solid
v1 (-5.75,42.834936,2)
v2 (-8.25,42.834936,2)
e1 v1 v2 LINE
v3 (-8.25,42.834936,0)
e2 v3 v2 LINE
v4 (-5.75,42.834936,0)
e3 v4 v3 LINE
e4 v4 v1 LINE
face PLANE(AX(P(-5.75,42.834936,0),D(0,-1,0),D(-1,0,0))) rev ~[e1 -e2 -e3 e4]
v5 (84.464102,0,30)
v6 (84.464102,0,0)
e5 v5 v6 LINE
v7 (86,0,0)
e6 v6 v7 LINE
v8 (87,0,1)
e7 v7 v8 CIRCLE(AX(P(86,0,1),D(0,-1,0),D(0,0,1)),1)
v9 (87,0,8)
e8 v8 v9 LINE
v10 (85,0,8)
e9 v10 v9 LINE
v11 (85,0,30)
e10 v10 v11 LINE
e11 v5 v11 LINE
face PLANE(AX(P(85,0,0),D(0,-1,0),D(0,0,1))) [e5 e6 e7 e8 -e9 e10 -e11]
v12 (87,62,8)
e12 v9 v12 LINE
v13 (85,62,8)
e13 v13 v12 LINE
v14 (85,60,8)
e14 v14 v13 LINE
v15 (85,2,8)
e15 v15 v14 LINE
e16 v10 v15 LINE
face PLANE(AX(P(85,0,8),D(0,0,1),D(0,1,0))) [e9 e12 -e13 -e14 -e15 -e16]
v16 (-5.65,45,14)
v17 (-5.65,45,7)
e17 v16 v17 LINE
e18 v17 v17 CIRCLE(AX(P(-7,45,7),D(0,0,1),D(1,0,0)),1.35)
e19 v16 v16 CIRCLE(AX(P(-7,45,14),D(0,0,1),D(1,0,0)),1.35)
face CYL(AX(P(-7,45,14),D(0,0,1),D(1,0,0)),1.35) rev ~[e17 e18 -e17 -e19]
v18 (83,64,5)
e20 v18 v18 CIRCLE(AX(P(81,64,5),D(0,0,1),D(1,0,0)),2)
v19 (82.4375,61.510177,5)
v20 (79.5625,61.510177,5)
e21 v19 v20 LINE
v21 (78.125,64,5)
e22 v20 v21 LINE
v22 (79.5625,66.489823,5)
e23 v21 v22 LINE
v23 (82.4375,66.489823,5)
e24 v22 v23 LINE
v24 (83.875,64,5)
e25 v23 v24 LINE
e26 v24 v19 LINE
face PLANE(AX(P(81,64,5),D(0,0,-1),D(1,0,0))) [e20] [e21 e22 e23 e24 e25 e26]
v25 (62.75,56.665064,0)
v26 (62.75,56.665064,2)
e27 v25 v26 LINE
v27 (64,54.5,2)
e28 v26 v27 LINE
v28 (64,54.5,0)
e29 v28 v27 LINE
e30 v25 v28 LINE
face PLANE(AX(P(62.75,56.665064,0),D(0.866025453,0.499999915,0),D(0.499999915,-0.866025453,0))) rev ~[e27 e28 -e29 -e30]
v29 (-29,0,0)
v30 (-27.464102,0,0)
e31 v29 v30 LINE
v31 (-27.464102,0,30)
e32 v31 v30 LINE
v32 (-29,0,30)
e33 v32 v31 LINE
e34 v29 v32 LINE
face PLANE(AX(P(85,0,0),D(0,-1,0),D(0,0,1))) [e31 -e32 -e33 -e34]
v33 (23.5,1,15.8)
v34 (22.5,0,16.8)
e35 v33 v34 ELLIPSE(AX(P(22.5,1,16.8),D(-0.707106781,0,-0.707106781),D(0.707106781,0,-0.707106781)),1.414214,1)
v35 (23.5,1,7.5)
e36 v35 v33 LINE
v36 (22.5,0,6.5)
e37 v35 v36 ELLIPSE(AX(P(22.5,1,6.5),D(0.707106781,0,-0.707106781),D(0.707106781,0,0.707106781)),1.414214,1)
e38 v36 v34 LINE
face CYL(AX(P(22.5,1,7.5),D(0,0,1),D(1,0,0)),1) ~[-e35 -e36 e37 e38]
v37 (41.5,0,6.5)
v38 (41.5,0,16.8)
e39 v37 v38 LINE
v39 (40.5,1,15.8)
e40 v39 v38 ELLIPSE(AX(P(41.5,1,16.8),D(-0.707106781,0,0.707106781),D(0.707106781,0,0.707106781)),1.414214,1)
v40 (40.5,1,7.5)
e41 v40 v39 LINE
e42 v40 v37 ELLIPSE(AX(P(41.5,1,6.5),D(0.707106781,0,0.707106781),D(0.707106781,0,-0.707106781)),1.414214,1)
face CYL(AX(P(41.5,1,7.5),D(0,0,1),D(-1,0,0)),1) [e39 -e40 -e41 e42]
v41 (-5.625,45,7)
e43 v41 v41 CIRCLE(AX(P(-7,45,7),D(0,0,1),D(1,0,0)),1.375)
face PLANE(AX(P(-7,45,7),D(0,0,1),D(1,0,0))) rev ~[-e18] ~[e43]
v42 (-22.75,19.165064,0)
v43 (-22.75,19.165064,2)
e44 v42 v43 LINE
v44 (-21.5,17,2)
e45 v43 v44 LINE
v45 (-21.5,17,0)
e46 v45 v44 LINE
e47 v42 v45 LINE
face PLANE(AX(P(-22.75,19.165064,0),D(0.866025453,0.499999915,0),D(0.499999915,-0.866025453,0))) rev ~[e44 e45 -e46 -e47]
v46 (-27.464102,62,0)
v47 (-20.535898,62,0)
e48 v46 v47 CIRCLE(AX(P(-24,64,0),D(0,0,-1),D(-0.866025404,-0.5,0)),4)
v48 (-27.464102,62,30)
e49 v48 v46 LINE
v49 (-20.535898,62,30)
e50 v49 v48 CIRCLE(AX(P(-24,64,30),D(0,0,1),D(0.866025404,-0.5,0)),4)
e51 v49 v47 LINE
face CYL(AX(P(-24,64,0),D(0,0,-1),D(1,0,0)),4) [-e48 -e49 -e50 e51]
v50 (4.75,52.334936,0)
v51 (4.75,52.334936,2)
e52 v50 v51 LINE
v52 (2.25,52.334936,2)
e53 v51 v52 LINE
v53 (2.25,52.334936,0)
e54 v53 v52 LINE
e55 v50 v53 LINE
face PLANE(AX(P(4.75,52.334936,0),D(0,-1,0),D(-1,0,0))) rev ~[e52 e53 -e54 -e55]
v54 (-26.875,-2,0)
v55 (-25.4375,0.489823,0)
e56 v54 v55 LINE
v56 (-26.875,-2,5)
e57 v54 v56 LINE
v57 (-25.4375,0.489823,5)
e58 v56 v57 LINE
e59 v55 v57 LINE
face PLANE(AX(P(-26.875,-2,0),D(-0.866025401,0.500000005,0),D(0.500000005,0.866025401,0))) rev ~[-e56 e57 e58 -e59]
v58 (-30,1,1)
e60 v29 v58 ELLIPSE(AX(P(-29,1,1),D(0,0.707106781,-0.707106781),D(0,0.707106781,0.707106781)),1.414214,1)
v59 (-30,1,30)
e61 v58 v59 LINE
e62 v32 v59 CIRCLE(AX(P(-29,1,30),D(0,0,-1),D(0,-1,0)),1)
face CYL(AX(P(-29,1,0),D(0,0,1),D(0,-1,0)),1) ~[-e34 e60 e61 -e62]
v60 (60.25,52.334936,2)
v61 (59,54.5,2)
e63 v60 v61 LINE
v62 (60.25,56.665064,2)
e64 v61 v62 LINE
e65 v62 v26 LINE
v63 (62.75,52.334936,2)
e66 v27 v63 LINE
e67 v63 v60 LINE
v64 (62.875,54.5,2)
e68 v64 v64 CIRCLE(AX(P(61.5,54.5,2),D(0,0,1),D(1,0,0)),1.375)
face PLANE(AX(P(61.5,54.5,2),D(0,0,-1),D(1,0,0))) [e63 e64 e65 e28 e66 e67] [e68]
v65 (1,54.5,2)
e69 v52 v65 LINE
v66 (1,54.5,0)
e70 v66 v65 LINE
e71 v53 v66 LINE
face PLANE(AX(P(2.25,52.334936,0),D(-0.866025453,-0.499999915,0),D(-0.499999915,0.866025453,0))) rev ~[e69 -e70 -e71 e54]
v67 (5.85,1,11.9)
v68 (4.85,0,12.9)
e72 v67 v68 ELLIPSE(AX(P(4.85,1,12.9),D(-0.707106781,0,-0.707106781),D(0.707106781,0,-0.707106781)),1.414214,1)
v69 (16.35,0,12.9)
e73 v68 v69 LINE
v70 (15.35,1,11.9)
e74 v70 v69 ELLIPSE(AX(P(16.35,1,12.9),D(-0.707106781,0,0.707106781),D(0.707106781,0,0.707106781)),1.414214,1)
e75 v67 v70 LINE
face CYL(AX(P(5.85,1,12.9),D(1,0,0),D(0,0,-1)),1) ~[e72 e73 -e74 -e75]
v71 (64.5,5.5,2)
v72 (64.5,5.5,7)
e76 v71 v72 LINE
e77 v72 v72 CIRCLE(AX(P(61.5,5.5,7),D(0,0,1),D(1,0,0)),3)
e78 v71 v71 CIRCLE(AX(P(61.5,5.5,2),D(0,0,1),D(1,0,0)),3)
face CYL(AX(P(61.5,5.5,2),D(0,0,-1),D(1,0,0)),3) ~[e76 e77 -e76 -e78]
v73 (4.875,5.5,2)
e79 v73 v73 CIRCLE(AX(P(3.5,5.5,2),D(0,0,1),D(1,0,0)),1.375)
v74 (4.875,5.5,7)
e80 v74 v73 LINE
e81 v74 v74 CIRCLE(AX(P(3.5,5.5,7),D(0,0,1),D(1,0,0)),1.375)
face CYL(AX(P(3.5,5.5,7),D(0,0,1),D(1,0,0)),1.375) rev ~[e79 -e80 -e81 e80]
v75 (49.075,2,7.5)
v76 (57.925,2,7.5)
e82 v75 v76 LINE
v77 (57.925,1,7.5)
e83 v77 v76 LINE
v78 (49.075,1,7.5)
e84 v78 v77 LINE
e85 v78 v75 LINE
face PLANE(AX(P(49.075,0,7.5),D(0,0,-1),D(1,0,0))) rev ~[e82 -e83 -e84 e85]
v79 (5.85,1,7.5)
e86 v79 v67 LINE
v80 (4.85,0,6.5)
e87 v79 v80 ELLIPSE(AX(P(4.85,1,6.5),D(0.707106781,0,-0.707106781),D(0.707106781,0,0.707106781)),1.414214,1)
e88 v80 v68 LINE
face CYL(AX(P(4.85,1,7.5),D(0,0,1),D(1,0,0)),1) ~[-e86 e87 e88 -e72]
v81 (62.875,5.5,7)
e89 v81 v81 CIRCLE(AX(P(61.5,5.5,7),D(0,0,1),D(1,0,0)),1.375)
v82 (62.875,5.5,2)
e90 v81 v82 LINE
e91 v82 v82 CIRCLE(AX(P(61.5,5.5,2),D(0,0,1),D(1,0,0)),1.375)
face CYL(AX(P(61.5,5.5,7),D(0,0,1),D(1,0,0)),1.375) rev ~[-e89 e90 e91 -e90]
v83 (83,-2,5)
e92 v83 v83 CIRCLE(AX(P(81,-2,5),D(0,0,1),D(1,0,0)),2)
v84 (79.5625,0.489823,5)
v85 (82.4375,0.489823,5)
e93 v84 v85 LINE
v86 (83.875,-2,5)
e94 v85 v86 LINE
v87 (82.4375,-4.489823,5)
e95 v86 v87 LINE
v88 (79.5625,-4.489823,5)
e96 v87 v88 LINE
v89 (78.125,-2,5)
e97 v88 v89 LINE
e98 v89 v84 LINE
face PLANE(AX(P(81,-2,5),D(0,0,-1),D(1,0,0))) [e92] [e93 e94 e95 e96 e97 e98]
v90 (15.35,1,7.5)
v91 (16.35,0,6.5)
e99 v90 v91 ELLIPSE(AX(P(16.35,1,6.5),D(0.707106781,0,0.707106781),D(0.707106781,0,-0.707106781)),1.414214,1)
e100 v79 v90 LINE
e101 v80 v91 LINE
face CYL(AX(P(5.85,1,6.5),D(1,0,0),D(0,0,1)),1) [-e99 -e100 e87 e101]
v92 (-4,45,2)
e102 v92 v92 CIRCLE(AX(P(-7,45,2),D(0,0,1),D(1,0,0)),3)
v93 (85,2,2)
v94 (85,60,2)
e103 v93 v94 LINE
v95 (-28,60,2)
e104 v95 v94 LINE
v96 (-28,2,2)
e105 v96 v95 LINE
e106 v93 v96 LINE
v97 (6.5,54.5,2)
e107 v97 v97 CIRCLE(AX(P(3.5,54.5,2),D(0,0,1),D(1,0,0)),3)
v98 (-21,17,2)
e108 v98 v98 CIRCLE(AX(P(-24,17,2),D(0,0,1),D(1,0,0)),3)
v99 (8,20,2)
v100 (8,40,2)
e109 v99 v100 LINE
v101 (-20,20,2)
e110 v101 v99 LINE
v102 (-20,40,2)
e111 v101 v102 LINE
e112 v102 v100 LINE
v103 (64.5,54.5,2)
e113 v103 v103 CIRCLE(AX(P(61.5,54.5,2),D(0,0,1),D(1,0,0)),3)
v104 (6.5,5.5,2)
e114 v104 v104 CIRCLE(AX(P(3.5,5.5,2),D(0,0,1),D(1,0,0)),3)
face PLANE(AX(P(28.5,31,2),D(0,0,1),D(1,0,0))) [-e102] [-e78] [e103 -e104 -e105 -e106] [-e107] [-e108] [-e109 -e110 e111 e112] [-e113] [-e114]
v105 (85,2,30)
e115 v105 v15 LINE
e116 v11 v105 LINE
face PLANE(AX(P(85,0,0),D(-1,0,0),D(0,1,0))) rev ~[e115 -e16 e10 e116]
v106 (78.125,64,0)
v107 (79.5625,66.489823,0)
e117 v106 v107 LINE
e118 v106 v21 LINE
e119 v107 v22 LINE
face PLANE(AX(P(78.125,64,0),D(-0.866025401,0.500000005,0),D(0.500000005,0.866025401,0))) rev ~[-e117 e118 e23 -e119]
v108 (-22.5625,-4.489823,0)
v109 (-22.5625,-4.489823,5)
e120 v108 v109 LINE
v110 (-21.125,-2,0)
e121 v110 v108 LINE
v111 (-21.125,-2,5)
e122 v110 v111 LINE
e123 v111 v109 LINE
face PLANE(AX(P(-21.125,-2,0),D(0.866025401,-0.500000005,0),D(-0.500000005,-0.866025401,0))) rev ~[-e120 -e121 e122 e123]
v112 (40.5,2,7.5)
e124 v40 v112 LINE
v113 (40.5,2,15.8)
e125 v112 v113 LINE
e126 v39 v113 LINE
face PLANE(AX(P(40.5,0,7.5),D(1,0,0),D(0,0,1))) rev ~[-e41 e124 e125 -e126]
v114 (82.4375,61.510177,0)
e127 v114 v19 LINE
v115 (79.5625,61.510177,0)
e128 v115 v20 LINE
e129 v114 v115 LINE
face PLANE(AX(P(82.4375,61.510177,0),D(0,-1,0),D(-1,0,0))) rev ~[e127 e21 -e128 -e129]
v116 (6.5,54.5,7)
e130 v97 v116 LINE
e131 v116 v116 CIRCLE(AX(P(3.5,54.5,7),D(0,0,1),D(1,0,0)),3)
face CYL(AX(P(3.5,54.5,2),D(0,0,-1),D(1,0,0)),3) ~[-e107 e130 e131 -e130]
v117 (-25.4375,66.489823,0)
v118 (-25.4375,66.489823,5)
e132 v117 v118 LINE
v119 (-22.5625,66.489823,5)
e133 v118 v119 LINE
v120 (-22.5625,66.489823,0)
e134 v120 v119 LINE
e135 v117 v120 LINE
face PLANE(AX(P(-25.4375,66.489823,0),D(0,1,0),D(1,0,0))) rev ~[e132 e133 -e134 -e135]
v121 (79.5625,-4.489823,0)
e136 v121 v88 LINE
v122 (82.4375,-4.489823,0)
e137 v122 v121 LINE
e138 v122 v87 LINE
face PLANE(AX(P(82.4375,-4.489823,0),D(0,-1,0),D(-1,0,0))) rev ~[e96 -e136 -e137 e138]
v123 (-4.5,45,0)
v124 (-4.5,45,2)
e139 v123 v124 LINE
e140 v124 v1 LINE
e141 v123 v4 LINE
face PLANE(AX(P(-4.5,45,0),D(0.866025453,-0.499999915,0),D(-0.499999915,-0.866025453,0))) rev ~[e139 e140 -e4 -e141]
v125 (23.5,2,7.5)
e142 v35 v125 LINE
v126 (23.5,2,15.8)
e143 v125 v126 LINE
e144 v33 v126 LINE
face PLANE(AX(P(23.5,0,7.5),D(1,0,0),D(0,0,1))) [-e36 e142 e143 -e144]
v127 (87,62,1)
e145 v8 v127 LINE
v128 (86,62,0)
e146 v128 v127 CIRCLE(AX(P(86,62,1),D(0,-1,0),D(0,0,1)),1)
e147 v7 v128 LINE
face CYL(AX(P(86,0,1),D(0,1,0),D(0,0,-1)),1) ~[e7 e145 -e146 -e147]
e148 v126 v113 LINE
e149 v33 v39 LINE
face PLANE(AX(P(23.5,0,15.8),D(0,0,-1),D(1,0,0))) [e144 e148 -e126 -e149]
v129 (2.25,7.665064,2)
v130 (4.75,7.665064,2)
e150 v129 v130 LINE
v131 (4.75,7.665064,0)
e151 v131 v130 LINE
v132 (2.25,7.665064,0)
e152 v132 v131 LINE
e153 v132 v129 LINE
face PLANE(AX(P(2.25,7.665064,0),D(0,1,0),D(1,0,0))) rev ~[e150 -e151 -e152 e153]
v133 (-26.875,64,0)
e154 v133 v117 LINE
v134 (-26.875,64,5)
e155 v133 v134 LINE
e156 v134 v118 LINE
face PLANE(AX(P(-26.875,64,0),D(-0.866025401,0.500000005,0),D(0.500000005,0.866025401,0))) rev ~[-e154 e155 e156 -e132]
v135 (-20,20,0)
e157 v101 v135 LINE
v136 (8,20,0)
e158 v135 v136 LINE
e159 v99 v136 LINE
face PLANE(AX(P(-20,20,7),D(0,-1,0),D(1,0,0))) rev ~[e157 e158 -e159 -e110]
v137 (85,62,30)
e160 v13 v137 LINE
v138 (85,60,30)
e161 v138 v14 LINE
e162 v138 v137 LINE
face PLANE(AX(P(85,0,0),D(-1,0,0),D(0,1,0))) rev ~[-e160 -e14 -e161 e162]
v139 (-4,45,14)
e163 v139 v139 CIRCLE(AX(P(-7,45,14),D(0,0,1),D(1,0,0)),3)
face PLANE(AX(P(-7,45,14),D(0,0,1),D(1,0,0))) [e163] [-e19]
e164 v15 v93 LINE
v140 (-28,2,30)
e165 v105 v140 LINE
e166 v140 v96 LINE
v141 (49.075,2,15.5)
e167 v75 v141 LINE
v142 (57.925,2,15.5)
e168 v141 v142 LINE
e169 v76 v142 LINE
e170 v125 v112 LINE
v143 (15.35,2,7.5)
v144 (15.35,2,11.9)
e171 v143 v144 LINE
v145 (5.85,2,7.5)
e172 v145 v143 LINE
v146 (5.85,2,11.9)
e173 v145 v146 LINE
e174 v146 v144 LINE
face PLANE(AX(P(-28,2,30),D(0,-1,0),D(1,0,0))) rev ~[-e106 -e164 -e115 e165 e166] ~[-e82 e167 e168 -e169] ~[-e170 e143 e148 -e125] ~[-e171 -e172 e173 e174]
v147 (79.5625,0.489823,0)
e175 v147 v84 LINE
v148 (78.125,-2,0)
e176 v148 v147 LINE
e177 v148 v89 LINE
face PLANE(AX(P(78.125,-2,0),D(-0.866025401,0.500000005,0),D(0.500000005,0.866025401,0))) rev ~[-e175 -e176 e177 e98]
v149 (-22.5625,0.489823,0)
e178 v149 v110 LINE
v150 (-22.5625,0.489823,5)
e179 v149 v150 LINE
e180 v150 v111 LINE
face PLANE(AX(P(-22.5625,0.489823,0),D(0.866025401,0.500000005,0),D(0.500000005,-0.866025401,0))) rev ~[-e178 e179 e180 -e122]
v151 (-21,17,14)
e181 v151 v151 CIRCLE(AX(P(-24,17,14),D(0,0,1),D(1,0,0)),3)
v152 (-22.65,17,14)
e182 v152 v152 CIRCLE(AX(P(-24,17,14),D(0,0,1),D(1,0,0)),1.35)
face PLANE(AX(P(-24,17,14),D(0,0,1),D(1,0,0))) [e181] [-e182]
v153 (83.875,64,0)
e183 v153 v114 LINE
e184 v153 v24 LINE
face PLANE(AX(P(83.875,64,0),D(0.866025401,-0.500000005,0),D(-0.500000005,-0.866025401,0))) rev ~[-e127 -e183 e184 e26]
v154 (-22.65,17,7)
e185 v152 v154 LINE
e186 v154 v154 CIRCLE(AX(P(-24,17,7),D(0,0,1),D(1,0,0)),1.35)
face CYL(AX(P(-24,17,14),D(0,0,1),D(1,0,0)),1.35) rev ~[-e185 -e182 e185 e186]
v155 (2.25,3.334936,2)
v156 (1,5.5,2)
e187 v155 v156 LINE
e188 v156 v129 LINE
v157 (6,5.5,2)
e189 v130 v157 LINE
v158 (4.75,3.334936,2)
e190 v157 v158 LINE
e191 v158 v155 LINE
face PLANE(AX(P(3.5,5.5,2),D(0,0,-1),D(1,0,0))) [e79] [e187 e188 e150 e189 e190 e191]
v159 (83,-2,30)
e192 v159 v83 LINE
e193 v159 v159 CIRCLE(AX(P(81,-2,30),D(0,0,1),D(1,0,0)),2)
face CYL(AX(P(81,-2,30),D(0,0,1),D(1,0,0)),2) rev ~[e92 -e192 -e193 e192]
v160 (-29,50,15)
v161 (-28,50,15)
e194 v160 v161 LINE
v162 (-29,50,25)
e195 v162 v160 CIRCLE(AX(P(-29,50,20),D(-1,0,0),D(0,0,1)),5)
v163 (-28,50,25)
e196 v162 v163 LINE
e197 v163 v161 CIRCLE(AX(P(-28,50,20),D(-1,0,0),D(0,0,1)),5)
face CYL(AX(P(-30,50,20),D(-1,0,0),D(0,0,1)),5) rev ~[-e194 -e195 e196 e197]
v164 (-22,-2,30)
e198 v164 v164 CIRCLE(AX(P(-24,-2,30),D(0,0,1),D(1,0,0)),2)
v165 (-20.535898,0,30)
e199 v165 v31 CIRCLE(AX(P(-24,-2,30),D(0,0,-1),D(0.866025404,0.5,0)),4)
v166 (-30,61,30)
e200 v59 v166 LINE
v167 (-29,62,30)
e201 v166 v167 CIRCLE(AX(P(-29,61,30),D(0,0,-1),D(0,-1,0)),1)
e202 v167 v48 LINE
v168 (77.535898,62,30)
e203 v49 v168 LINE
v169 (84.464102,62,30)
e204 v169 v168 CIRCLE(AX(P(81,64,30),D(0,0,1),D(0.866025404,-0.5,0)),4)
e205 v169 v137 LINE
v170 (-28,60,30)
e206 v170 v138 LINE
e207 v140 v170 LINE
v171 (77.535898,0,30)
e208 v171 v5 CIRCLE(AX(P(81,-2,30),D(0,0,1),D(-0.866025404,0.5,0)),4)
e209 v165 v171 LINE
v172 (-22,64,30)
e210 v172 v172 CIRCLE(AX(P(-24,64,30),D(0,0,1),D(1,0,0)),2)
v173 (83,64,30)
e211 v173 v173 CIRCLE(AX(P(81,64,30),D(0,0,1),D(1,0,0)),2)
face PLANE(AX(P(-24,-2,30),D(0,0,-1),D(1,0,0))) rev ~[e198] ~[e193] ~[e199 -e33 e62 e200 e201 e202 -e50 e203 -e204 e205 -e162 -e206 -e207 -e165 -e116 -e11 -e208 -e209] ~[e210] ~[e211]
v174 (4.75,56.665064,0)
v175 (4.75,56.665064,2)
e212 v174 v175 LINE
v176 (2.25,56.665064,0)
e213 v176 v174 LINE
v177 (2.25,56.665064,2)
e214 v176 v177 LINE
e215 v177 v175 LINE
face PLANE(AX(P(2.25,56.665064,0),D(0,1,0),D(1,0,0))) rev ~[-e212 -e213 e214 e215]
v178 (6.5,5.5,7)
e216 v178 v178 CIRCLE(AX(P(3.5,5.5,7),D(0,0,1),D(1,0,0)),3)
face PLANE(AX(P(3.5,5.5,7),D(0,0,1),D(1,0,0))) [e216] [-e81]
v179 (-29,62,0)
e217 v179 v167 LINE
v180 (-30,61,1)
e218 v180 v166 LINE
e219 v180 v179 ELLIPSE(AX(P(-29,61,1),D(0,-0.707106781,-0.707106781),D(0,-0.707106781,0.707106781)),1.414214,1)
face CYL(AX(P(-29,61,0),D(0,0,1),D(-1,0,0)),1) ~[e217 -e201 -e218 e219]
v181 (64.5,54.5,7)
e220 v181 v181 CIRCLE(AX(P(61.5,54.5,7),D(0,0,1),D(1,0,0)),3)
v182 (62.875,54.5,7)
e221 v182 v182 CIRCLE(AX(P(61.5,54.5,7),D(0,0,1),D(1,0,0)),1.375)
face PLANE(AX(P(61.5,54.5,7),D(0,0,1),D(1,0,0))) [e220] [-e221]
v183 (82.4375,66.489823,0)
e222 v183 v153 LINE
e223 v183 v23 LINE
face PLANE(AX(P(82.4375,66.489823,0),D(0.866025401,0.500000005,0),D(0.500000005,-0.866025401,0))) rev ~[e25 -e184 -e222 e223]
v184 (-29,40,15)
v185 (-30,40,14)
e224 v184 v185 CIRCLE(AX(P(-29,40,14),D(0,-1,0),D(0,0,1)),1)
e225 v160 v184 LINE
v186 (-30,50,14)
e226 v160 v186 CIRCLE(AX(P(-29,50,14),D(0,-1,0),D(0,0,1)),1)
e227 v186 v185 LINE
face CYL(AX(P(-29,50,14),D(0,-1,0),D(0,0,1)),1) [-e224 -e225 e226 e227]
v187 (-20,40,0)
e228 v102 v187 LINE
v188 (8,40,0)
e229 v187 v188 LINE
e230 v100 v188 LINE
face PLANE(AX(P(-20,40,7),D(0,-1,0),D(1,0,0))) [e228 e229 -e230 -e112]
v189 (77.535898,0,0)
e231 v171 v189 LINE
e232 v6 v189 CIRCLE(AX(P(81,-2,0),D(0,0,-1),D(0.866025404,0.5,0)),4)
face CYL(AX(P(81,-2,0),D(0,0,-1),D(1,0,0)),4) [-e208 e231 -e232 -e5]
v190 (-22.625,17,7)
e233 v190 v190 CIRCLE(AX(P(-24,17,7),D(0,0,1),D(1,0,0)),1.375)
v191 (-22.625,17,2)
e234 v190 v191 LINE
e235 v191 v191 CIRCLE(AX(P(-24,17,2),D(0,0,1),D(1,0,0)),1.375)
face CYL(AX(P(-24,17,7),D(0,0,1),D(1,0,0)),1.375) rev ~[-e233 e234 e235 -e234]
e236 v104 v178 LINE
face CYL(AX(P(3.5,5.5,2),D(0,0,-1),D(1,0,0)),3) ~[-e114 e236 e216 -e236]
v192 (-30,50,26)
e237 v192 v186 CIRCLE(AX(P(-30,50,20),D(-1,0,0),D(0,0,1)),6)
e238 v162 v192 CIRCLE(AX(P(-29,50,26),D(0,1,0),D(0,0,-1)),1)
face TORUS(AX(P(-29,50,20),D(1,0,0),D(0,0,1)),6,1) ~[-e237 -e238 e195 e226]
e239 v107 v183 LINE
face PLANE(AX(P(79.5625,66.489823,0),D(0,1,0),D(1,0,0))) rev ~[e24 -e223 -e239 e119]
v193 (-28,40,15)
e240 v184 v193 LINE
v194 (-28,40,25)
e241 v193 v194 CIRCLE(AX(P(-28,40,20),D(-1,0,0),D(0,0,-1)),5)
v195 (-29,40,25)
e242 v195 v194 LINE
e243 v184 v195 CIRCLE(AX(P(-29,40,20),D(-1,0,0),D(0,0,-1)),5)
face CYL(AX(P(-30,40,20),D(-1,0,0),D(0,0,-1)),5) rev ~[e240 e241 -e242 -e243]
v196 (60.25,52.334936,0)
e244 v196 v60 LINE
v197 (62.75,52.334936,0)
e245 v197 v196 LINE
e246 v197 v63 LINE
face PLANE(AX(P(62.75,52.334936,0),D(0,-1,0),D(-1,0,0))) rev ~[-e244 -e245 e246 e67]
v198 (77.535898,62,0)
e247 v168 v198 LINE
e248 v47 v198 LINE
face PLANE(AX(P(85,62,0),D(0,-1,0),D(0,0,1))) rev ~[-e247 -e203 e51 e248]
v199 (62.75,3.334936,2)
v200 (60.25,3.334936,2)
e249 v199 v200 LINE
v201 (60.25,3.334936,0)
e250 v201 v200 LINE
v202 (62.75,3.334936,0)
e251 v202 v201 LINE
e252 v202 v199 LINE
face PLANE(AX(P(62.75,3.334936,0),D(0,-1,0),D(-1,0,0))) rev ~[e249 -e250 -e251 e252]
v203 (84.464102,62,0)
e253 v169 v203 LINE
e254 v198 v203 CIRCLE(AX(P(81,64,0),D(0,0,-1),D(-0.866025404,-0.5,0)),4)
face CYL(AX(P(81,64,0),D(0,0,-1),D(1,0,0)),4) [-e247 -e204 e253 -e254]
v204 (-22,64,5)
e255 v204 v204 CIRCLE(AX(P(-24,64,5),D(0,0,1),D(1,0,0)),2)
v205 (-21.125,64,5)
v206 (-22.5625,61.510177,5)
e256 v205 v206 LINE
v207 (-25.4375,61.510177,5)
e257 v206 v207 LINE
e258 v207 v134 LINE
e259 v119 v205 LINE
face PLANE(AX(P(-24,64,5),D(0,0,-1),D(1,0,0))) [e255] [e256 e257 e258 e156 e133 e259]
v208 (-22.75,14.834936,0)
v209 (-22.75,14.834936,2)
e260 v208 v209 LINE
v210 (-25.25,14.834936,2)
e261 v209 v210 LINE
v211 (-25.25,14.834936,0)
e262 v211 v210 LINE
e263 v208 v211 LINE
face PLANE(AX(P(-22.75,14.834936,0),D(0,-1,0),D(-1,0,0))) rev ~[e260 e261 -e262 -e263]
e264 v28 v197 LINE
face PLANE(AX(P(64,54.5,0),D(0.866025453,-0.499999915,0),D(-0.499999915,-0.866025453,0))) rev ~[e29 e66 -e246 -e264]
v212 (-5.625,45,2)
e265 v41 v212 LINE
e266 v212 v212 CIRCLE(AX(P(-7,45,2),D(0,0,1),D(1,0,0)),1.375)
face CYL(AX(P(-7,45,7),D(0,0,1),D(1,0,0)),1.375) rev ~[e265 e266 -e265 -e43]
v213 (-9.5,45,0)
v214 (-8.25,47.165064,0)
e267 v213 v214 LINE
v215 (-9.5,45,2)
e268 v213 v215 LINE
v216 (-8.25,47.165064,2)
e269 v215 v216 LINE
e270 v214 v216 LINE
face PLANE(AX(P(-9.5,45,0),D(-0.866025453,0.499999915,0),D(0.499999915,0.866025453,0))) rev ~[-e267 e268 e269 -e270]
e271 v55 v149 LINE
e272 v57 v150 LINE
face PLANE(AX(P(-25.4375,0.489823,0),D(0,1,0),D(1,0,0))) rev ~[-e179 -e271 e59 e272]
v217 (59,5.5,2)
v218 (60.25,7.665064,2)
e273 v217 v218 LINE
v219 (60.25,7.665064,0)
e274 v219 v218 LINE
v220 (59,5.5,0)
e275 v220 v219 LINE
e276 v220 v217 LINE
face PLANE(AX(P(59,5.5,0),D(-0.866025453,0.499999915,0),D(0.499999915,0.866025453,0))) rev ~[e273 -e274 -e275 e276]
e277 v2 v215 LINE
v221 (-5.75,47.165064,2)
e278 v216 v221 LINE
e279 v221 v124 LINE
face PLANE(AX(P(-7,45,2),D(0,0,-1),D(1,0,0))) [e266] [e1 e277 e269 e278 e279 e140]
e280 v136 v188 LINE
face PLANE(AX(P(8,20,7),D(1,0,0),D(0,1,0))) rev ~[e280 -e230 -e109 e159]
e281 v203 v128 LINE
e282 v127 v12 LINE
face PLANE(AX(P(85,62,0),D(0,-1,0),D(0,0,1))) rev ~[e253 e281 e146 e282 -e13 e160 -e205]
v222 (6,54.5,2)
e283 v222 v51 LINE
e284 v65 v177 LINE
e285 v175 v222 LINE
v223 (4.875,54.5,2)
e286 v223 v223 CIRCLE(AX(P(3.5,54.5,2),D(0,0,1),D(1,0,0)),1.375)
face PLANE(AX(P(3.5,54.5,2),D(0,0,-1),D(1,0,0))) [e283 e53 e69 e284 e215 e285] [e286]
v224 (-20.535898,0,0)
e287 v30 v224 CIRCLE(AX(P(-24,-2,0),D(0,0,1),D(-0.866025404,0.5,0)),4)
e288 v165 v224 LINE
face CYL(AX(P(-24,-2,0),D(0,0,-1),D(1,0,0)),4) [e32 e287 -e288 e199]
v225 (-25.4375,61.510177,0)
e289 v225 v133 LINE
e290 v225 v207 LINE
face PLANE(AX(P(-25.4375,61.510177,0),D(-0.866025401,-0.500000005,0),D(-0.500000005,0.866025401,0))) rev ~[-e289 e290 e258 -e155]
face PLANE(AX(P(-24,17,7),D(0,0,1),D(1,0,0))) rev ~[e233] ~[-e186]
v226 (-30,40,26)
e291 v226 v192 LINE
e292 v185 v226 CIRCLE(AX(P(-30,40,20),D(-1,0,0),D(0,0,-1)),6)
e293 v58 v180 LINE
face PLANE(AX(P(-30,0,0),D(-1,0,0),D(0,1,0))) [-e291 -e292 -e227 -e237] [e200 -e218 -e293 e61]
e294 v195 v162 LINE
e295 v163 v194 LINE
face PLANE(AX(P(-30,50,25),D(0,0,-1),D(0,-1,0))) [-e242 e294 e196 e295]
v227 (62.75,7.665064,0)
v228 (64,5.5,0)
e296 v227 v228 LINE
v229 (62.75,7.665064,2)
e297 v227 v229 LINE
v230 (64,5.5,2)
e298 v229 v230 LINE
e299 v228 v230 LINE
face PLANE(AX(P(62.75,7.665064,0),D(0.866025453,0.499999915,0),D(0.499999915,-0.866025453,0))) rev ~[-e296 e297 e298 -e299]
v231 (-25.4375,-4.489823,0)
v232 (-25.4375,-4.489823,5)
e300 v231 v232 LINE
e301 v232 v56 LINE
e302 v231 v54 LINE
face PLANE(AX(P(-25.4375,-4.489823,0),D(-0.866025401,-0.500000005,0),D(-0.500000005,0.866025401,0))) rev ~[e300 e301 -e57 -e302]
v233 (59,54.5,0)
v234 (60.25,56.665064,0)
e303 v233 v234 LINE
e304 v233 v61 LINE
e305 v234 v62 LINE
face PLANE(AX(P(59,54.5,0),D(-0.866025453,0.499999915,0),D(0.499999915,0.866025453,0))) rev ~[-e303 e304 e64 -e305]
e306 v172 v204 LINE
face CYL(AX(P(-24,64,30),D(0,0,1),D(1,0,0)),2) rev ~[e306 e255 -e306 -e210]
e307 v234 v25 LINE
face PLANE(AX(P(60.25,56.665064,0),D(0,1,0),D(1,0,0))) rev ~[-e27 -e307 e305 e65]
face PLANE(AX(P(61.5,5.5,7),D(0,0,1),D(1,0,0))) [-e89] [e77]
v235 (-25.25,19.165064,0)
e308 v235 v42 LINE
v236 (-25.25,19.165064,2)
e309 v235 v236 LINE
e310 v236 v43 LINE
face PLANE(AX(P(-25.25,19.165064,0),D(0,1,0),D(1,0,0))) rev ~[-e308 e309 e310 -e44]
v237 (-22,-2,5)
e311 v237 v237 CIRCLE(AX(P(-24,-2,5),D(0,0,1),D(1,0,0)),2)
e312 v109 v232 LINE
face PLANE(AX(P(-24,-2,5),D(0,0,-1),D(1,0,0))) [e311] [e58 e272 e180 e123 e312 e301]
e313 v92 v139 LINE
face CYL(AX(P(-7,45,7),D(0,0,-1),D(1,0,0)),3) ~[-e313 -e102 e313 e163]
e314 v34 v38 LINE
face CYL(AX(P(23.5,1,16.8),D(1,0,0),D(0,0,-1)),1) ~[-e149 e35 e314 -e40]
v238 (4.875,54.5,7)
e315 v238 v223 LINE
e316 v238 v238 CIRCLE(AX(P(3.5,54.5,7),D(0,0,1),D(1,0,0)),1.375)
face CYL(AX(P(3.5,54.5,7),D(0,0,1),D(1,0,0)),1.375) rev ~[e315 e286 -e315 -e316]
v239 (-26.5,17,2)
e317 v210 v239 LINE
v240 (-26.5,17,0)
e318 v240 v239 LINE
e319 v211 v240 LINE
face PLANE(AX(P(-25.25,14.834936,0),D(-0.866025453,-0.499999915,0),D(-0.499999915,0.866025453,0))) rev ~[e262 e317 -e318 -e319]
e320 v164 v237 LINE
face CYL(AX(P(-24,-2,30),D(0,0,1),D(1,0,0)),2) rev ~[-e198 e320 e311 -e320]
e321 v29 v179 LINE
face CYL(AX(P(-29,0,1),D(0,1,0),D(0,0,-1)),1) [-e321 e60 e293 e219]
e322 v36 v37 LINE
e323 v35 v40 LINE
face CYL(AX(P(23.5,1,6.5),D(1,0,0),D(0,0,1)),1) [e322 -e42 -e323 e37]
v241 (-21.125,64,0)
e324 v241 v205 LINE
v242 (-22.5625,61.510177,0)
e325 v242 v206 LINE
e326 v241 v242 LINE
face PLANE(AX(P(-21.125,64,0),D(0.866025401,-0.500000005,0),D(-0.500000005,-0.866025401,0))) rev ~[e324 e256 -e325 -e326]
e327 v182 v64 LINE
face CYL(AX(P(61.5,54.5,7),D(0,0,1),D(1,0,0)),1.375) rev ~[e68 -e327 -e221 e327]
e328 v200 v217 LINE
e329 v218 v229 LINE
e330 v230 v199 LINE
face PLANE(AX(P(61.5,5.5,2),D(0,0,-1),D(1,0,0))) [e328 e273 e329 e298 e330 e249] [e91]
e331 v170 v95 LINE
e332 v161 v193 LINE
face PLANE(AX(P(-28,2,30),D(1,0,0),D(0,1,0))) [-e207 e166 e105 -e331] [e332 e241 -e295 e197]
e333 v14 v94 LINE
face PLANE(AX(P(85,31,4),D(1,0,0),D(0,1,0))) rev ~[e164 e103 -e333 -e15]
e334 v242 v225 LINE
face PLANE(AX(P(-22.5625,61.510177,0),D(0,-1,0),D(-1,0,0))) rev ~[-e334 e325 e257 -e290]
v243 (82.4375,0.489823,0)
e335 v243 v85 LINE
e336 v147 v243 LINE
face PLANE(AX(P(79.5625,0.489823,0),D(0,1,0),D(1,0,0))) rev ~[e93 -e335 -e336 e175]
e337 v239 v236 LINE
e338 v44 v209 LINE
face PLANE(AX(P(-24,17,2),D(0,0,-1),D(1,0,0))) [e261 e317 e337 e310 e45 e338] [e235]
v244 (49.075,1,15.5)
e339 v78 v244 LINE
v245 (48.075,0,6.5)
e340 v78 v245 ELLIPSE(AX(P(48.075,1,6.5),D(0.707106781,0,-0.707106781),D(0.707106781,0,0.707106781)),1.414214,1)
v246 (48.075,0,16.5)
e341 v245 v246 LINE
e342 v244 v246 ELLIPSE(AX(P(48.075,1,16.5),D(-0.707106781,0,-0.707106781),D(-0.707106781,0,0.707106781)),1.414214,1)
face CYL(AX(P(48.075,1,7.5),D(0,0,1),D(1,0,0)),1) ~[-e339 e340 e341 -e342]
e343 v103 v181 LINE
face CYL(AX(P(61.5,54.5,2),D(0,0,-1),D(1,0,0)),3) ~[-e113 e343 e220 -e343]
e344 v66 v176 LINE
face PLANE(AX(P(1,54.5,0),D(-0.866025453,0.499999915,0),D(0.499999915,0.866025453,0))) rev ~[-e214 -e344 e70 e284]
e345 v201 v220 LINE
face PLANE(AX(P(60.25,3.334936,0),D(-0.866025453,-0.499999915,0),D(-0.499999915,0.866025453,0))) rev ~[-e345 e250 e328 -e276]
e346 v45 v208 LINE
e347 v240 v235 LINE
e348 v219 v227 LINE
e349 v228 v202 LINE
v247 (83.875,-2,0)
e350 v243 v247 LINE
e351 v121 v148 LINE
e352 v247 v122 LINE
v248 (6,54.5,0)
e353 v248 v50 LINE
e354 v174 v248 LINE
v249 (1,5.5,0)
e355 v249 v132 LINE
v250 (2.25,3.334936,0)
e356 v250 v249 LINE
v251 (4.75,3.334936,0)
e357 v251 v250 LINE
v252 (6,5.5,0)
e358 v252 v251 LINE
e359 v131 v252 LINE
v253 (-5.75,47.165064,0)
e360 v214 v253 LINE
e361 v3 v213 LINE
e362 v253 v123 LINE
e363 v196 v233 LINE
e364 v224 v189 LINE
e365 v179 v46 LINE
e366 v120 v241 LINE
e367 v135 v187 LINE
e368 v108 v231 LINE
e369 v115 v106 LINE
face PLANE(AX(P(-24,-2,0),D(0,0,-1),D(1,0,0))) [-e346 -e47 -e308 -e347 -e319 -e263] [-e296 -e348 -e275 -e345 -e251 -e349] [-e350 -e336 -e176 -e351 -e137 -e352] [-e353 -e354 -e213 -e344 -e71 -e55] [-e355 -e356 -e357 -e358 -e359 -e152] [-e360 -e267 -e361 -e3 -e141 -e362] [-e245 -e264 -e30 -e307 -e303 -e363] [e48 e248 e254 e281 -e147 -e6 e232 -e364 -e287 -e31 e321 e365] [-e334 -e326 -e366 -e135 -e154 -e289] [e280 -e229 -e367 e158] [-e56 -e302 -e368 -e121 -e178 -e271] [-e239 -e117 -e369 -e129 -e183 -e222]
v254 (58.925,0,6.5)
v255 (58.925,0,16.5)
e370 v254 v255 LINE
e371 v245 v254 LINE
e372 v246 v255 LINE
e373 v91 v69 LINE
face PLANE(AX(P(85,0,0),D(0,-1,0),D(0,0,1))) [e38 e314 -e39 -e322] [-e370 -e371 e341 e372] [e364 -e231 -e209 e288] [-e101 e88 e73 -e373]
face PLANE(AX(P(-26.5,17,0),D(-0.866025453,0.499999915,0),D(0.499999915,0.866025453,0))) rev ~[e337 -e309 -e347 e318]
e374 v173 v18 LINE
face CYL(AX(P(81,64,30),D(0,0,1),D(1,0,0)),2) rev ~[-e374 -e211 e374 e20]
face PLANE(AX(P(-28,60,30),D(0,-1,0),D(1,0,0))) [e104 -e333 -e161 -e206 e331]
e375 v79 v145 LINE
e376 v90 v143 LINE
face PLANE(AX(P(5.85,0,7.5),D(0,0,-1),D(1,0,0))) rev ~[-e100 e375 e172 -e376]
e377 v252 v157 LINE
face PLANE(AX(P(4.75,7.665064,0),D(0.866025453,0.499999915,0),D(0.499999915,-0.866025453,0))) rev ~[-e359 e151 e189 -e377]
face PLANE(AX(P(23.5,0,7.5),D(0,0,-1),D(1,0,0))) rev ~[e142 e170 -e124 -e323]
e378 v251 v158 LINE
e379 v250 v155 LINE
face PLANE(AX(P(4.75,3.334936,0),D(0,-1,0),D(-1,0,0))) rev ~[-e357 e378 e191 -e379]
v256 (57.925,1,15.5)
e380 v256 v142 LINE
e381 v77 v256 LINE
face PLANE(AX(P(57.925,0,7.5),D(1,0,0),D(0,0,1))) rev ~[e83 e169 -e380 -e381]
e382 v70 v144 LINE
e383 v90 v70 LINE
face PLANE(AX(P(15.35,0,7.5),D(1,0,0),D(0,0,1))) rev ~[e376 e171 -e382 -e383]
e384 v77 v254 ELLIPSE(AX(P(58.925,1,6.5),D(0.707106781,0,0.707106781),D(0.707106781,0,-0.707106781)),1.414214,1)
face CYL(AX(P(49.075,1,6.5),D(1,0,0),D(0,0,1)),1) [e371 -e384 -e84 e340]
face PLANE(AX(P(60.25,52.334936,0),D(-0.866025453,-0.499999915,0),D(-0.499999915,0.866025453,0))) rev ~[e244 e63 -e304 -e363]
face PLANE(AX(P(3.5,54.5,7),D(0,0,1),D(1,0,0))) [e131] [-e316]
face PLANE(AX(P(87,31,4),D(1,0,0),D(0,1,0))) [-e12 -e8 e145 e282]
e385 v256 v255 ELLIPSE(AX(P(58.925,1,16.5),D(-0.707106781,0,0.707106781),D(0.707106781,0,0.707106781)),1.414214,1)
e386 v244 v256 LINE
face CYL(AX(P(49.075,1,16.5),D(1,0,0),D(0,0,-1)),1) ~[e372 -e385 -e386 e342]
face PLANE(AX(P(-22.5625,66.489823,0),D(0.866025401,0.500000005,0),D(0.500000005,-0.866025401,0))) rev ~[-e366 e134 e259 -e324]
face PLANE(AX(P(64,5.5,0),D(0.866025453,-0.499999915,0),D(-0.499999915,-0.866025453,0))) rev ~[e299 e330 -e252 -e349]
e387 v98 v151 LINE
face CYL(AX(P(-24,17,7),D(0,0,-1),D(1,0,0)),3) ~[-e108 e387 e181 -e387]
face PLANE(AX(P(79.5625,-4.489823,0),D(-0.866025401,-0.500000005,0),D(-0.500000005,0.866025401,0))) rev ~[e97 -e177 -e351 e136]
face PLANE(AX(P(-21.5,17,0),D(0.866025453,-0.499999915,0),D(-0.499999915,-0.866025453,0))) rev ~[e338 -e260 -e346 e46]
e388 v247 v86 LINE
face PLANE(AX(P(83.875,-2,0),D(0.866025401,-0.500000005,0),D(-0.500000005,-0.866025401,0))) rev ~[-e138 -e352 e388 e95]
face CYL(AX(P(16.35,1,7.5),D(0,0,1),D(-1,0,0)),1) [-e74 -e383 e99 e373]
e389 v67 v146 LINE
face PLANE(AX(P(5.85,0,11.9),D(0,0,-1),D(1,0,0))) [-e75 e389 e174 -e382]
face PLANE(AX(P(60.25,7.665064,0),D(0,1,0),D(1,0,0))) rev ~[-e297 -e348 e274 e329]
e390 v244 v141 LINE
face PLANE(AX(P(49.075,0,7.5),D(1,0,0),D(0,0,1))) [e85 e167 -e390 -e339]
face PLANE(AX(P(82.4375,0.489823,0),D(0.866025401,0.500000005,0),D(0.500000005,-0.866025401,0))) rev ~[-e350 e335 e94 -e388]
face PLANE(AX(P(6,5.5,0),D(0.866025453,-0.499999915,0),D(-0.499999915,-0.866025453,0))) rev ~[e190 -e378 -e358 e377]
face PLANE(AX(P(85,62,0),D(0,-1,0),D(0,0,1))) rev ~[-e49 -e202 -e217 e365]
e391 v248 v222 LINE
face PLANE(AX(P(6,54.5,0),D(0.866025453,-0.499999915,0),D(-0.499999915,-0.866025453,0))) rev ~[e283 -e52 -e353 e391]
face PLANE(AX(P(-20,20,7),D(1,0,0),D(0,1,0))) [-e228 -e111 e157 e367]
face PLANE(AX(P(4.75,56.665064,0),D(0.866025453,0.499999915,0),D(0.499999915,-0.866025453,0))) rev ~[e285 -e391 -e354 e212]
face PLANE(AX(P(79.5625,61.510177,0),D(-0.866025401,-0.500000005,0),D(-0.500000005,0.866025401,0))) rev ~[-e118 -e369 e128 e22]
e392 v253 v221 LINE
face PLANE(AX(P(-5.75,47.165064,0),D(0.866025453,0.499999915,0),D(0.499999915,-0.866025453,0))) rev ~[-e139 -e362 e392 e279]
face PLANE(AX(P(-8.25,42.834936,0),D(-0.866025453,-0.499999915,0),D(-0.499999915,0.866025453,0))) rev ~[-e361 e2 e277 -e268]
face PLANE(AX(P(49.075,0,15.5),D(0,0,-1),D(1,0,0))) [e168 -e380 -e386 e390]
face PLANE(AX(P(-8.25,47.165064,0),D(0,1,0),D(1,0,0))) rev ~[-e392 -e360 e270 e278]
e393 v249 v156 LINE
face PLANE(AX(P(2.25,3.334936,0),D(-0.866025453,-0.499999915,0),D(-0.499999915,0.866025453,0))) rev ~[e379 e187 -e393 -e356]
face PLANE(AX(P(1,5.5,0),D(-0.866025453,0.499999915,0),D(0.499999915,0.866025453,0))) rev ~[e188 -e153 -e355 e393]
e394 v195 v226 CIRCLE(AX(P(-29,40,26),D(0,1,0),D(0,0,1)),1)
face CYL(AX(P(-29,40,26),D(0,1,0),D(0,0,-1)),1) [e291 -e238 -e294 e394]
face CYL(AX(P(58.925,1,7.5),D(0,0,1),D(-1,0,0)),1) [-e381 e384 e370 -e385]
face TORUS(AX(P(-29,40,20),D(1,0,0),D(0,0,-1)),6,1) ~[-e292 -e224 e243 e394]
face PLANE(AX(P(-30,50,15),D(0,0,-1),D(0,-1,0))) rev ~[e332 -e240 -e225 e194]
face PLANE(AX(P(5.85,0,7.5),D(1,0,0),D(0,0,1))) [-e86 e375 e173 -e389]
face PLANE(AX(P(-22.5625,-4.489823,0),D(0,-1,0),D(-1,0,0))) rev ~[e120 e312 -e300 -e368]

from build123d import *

# Parameters (mm, degrees)
SKETCH_W        = 115
SKETCH_H        = 62
PAD_DEPTH       = 30
SKETCH001_W     = 113
SKETCH001_H     = 58
POCKET_DEPTH    = 28
SKETCH002_R     = 3
PAD001_DEPTH    = 5
SKETCH003_R     = 1.375
SKETCH003_W     = 28
SKETCH003_H     = 20
POCKET001_DEPTH = 7
POCKET002_DEPTH = 2
SKETCH005_W     = 9.5
SKETCH005_H     = 4.4
SKETCH005_W_2   = 17
SKETCH005_H_2   = 8.3
SKETCH005_W_3   = 8.85
SKETCH005_H_3   = 8
POCKET003_DEPTH = 2
SKETCH006_W     = 62
SKETCH006_H     = 8
PAD002_DEPTH    = 2
POCKET004_DEPTH = 2
SKETCH010_R     = 3
PAD004_DEPTH    = 7
POCKET007_DEPTH = 2
SKETCH014_R     = 4
PAD005_DEPTH    = 30
SKETCH020_R     = 1.35
POCKET010_DEPTH = 7
SKETCH021_R     = 3
PAD006_DEPTH    = 7
SKETCH022_R     = 1.35
POCKET011_DEPTH = 7
SKETCH023_R     = 2
POCKET012_DEPTH = 30
SKETCH024_R     = 2
POCKET013_DEPTH = 30
SKETCH025_R     = 2
POCKET014_DEPTH = 30
SKETCH026_R     = 2
POCKET015_DEPTH = 30
POCKET016_DEPTH = 5
POCKET017_DEPTH = 5
POCKET018_DEPTH = 5
POCKET019_DEPTH = 5
FILLET_R        = 1


with BuildPart() as part:
    # Sketch → Pad (new body)
    with BuildSketch(Plane.XY):
        with Locations((27.5, 31)):
            Rectangle(SKETCH_W, SKETCH_H)
    extrude(amount=PAD_DEPTH)

    # Sketch001 (on Face6 of Pad) → Pocket (cut)
    with BuildSketch(Plane.XY.offset(30)):
        with Locations((28.5, 31)):
            Rectangle(SKETCH001_W, SKETCH001_H)
    extrude(amount=-POCKET_DEPTH, mode=Mode.SUBTRACT)

    # Sketch002 (on Face8 of Pocket) → Pad001 (join)
    with BuildSketch(Plane.XY.offset(2)):
        with Locations((3.5, 5.5)):
            Circle(SKETCH002_R)
        with Locations((61.5, 5.5)):
            Circle(SKETCH002_R)
        with Locations((3.5, 54.5)):
            Circle(SKETCH002_R)
        with Locations((61.5, 54.5)):
            Circle(SKETCH002_R)
        with Locations((-7, 45)):
            Circle(SKETCH002_R)
        with Locations((-24, 17)):
            Circle(SKETCH002_R)
    extrude(amount=PAD001_DEPTH)

    # Sketch003 (on Face21 of Pad001) → Pocket001 (cut)
    with BuildSketch(Plane.XY.offset(7)):
        with Locations((3.5, 54.5)):
            Circle(SKETCH003_R)
        with Locations((61.5, 54.5)):
            Circle(SKETCH003_R)
        with Locations((3.5, 5.5)):
            Circle(SKETCH003_R)
        with Locations((61.5, 5.5)):
            Circle(SKETCH003_R)
        with Locations((-7, 45)):
            Circle(SKETCH003_R)
        with Locations((-24, 17)):
            Circle(SKETCH003_R)
        with Locations((-6, 30)):
            Rectangle(SKETCH003_W, SKETCH003_H)
    extrude(amount=-POCKET001_DEPTH, mode=Mode.SUBTRACT)

    # Sketch004 (on Face4 of Pocket001) → Pocket002 (cut)
    with BuildSketch(Plane(origin=(0, 0, 0), x_dir=(1, 0, 0), z_dir=(0, 0, -1))):
        Polygon((4.75, -7.665064), (6, -5.5), (4.75, -3.334936), (2.25, -3.334936), (1, -5.5), (2.25, -7.665064), align=None)
        Polygon((62.75, -7.665064), (64, -5.5), (62.75, -3.334936), (60.25, -3.334936), (59, -5.5), (60.25, -7.665064), align=None)
        Polygon((62.75, -56.665064), (64, -54.5), (62.75, -52.334936), (60.25, -52.334936), (59, -54.5), (60.25, -56.665064), align=None)
        Polygon((4.75, -56.665064), (6, -54.5), (4.75, -52.334936), (2.25, -52.334936), (1, -54.5), (2.25, -56.665064), align=None)
        Polygon((-5.75, -47.165064), (-4.5, -45), (-5.75, -42.834936), (-8.25, -42.834936), (-9.5, -45), (-8.25, -47.165064), align=None)
        Polygon((-22.75, -19.165064), (-21.5, -17), (-22.75, -14.834936), (-25.25, -14.834936), (-26.5, -17), (-25.25, -19.165064), align=None)
    extrude(amount=-POCKET002_DEPTH, mode=Mode.SUBTRACT)

    # Sketch005 (on Face6 of Pocket002) → Pocket003 (cut)
    with BuildSketch(Plane.XZ):
        with Locations((10.6, 9.7)):
            Rectangle(SKETCH005_W, SKETCH005_H)
        with Locations((32, 11.65)):
            Rectangle(SKETCH005_W_2, SKETCH005_H_2)
        with Locations((53.5, 11.5)):
            Rectangle(SKETCH005_W_3, SKETCH005_H_3)
    extrude(amount=-POCKET003_DEPTH, mode=Mode.SUBTRACT)

    # Sketch006 (on Face3 of Pocket003) → Pad002 (join)
    with BuildSketch(Plane.YZ.offset(85)):
        with Locations((31, 4)):
            Rectangle(SKETCH006_W, SKETCH006_H)
    extrude(amount=PAD002_DEPTH)

    # Sketch007 (on Face2 of Pad002) → Pocket004 (cut)
    with BuildSketch(Plane(origin=(-30, 0, 0), x_dir=(0, -1, 0), z_dir=(-1, 0, 0))):
        with BuildLine():
            ThreePointArc((-50, 25), (-55, 20), (-50, 15))
            Line((-50, 15), (-40, 15))
            ThreePointArc((-40, 15), (-35, 20), (-40, 25))
            Line((-50, 25), (-40, 25))
        make_face()
    extrude(amount=-POCKET004_DEPTH, mode=Mode.SUBTRACT)

    # Sketch010 → Pad004 (join)
    with BuildSketch(Plane.XY.offset(7)):
        with Locations((-7, 45)):
            Circle(SKETCH010_R)
    extrude(amount=PAD004_DEPTH)

    # Sketch013 (on Face4 of Pocket001) → Pocket007 (cut)
    with BuildSketch(Plane(origin=(0, 0, 0), x_dir=(1, 0, 0), z_dir=(0, 0, -1))):
        Polygon((-22.75, -19.165064), (-21.5, -17), (-22.75, -14.834936), (-25.25, -14.834936), (-26.5, -17), (-25.25, -19.165064), align=None)
        Polygon((4.75, -7.665064), (6, -5.5), (4.75, -3.334936), (2.25, -3.334936), (1, -5.5), (2.25, -7.665064), align=None)
        Polygon((-5.75, -47.165064), (-4.5, -45), (-5.75, -42.834936), (-8.25, -42.834936), (-9.5, -45), (-8.25, -47.165064), align=None)
        Polygon((6, -54.5), (4.75, -52.334936), (2.25, -52.334936), (1, -54.5), (2.25, -56.665064), (4.75, -56.665064), align=None)
        Polygon((64, -54.5), (62.75, -52.334936), (60.25, -52.334936), (59, -54.5), (60.25, -56.665064), (62.75, -56.665064), align=None)
        Polygon((64, -5.5), (62.75, -3.334936), (60.25, -3.334936), (59, -5.5), (60.25, -7.665064), (62.75, -7.665064), align=None)
    extrude(amount=-POCKET007_DEPTH, mode=Mode.SUBTRACT)

    # Sketch014 (on Face5 of Pocket007) → Pad005 (join)
    with BuildSketch(Plane(origin=(0, 0, 0), x_dir=(1, 0, 0), z_dir=(0, 0, -1))):
        with Locations((-24, 2)):
            Circle(SKETCH014_R)
        with Locations((81, 2)):
            Circle(SKETCH014_R)
        with Locations((-24, -64)):
            Circle(SKETCH014_R)
        with Locations((81, -64)):
            Circle(SKETCH014_R)
    extrude(amount=-PAD005_DEPTH)

    # Sketch020 → Pocket010 (cut)
    with BuildSketch(Plane.XY.offset(14)):
        with Locations((-7, 45)):
            Circle(SKETCH020_R)
    extrude(amount=-POCKET010_DEPTH, mode=Mode.SUBTRACT)

    # Sketch021 (on Face130 of Pocket010) → Pad006 (join)
    with BuildSketch(Plane.XY.offset(7)):
        with Locations((-24, 17)):
            Circle(SKETCH021_R)
    extrude(amount=PAD006_DEPTH)

    # Sketch022 (on Face136 of Pad006) → Pocket011 (cut)
    with BuildSketch(Plane.XY.offset(14)):
        with Locations((-24, 17)):
            Circle(SKETCH022_R)
    extrude(amount=-POCKET011_DEPTH, mode=Mode.SUBTRACT)

    # Sketch023 (on Face57 of Pocket011) → Pocket012 (cut)
    with BuildSketch(Plane.XY.offset(30)):
        with Locations((-24, 64)):
            Circle(SKETCH023_R)
    extrude(amount=-POCKET012_DEPTH, mode=Mode.SUBTRACT)

    # Sketch024 (on Face115 of Pocket012) → Pocket013 (cut)
    with BuildSketch(Plane.XY.offset(30)):
        with Locations((81, 64)):
            Circle(SKETCH024_R)
    extrude(amount=-POCKET013_DEPTH, mode=Mode.SUBTRACT)

    # Sketch025 (on Face110 of Pocket013) → Pocket014 (cut)
    with BuildSketch(Plane.XY.offset(30)):
        with Locations((81, -2)):
            Circle(SKETCH025_R)
    extrude(amount=-POCKET014_DEPTH, mode=Mode.SUBTRACT)

    # Sketch026 (on Face106 of Pocket014) → Pocket015 (cut)
    with BuildSketch(Plane.XY.offset(30)):
        with Locations((-24, -2)):
            Circle(SKETCH026_R)
    extrude(amount=-POCKET015_DEPTH, mode=Mode.SUBTRACT)

    # Sketch027 (on Face69 of Pocket015) → Pocket016 (cut)
    with BuildSketch(Plane(origin=(0, 0, 0), x_dir=(1, 0, 0), z_dir=(0, 0, -1))):
        Polygon((-21.125, 2), (-22.5625, 4.489823), (-25.4375, 4.489823), (-26.875, 2), (-25.4375, -0.489823), (-22.5625, -0.489823), align=None)
    extrude(amount=-POCKET016_DEPTH, mode=Mode.SUBTRACT)

    # Sketch028 (on Face88 of Pocket016) → Pocket017 (cut)
    with BuildSketch(Plane(origin=(0, 0, 0), x_dir=(1, 0, 0), z_dir=(0, 0, -1))):
        Polygon((82.4375, 4.489823), (79.5625, 4.489823), (78.125, 2), (79.5625, -0.489823), (82.4375, -0.489823), (83.875, 2), align=None)
    extrude(amount=-POCKET017_DEPTH, mode=Mode.SUBTRACT)

    # Sketch029 (on Face101 of Pocket017) → Pocket018 (cut)
    with BuildSketch(Plane(origin=(0, 0, 0), x_dir=(1, 0, 0), z_dir=(0, 0, -1))):
        Polygon((82.4375, -66.489823), (83.875, -64), (82.4375, -61.510177), (79.5625, -61.510177), (78.125, -64), (79.5625, -66.489823), align=None)
    extrude(amount=-POCKET018_DEPTH, mode=Mode.SUBTRACT)

    # Sketch030 (on Face58 of Pocket018) → Pocket019 (cut)
    with BuildSketch(Plane(origin=(0, 0, 0), x_dir=(1, 0, 0), z_dir=(0, 0, -1))):
        Polygon((-22.5625, -66.489823), (-21.125, -64), (-22.5625, -61.510177), (-25.4375, -61.510177), (-26.875, -64), (-25.4375, -66.489823), align=None)
    extrude(amount=-POCKET019_DEPTH, mode=Mode.SUBTRACT)

    # Fillet
    fillet_edges = [part.edges().sort_by_distance(p)[0] for p in [
        (32, 0, 7.5),
        (32, 0, 15.8),
        (23.5, 0, 11.65),
        (40.5, 0, 11.65),
        (10.6, 0, 11.9),
        (10.6, 0, 7.5),
        (15.35, 0, 9.7),
        (5.85, 0, 9.7),
        (49.075, 0, 11.5),
        (53.5, 0, 7.5),
        (57.925, 0, 11.5),
        (53.5, 0, 15.5),
        (-30, 45, 15),
        (-30, 45, 25),
        (-30, 62, 15),
        (-30, 0, 15),
        (-30, 31, 0),
        (87, 31, 0),
        (-30, 35, 20),
        (-30, 55, 20),
    ]]
    fillet(fillet_edges, radius=FILLET_R)


solid = part.part
